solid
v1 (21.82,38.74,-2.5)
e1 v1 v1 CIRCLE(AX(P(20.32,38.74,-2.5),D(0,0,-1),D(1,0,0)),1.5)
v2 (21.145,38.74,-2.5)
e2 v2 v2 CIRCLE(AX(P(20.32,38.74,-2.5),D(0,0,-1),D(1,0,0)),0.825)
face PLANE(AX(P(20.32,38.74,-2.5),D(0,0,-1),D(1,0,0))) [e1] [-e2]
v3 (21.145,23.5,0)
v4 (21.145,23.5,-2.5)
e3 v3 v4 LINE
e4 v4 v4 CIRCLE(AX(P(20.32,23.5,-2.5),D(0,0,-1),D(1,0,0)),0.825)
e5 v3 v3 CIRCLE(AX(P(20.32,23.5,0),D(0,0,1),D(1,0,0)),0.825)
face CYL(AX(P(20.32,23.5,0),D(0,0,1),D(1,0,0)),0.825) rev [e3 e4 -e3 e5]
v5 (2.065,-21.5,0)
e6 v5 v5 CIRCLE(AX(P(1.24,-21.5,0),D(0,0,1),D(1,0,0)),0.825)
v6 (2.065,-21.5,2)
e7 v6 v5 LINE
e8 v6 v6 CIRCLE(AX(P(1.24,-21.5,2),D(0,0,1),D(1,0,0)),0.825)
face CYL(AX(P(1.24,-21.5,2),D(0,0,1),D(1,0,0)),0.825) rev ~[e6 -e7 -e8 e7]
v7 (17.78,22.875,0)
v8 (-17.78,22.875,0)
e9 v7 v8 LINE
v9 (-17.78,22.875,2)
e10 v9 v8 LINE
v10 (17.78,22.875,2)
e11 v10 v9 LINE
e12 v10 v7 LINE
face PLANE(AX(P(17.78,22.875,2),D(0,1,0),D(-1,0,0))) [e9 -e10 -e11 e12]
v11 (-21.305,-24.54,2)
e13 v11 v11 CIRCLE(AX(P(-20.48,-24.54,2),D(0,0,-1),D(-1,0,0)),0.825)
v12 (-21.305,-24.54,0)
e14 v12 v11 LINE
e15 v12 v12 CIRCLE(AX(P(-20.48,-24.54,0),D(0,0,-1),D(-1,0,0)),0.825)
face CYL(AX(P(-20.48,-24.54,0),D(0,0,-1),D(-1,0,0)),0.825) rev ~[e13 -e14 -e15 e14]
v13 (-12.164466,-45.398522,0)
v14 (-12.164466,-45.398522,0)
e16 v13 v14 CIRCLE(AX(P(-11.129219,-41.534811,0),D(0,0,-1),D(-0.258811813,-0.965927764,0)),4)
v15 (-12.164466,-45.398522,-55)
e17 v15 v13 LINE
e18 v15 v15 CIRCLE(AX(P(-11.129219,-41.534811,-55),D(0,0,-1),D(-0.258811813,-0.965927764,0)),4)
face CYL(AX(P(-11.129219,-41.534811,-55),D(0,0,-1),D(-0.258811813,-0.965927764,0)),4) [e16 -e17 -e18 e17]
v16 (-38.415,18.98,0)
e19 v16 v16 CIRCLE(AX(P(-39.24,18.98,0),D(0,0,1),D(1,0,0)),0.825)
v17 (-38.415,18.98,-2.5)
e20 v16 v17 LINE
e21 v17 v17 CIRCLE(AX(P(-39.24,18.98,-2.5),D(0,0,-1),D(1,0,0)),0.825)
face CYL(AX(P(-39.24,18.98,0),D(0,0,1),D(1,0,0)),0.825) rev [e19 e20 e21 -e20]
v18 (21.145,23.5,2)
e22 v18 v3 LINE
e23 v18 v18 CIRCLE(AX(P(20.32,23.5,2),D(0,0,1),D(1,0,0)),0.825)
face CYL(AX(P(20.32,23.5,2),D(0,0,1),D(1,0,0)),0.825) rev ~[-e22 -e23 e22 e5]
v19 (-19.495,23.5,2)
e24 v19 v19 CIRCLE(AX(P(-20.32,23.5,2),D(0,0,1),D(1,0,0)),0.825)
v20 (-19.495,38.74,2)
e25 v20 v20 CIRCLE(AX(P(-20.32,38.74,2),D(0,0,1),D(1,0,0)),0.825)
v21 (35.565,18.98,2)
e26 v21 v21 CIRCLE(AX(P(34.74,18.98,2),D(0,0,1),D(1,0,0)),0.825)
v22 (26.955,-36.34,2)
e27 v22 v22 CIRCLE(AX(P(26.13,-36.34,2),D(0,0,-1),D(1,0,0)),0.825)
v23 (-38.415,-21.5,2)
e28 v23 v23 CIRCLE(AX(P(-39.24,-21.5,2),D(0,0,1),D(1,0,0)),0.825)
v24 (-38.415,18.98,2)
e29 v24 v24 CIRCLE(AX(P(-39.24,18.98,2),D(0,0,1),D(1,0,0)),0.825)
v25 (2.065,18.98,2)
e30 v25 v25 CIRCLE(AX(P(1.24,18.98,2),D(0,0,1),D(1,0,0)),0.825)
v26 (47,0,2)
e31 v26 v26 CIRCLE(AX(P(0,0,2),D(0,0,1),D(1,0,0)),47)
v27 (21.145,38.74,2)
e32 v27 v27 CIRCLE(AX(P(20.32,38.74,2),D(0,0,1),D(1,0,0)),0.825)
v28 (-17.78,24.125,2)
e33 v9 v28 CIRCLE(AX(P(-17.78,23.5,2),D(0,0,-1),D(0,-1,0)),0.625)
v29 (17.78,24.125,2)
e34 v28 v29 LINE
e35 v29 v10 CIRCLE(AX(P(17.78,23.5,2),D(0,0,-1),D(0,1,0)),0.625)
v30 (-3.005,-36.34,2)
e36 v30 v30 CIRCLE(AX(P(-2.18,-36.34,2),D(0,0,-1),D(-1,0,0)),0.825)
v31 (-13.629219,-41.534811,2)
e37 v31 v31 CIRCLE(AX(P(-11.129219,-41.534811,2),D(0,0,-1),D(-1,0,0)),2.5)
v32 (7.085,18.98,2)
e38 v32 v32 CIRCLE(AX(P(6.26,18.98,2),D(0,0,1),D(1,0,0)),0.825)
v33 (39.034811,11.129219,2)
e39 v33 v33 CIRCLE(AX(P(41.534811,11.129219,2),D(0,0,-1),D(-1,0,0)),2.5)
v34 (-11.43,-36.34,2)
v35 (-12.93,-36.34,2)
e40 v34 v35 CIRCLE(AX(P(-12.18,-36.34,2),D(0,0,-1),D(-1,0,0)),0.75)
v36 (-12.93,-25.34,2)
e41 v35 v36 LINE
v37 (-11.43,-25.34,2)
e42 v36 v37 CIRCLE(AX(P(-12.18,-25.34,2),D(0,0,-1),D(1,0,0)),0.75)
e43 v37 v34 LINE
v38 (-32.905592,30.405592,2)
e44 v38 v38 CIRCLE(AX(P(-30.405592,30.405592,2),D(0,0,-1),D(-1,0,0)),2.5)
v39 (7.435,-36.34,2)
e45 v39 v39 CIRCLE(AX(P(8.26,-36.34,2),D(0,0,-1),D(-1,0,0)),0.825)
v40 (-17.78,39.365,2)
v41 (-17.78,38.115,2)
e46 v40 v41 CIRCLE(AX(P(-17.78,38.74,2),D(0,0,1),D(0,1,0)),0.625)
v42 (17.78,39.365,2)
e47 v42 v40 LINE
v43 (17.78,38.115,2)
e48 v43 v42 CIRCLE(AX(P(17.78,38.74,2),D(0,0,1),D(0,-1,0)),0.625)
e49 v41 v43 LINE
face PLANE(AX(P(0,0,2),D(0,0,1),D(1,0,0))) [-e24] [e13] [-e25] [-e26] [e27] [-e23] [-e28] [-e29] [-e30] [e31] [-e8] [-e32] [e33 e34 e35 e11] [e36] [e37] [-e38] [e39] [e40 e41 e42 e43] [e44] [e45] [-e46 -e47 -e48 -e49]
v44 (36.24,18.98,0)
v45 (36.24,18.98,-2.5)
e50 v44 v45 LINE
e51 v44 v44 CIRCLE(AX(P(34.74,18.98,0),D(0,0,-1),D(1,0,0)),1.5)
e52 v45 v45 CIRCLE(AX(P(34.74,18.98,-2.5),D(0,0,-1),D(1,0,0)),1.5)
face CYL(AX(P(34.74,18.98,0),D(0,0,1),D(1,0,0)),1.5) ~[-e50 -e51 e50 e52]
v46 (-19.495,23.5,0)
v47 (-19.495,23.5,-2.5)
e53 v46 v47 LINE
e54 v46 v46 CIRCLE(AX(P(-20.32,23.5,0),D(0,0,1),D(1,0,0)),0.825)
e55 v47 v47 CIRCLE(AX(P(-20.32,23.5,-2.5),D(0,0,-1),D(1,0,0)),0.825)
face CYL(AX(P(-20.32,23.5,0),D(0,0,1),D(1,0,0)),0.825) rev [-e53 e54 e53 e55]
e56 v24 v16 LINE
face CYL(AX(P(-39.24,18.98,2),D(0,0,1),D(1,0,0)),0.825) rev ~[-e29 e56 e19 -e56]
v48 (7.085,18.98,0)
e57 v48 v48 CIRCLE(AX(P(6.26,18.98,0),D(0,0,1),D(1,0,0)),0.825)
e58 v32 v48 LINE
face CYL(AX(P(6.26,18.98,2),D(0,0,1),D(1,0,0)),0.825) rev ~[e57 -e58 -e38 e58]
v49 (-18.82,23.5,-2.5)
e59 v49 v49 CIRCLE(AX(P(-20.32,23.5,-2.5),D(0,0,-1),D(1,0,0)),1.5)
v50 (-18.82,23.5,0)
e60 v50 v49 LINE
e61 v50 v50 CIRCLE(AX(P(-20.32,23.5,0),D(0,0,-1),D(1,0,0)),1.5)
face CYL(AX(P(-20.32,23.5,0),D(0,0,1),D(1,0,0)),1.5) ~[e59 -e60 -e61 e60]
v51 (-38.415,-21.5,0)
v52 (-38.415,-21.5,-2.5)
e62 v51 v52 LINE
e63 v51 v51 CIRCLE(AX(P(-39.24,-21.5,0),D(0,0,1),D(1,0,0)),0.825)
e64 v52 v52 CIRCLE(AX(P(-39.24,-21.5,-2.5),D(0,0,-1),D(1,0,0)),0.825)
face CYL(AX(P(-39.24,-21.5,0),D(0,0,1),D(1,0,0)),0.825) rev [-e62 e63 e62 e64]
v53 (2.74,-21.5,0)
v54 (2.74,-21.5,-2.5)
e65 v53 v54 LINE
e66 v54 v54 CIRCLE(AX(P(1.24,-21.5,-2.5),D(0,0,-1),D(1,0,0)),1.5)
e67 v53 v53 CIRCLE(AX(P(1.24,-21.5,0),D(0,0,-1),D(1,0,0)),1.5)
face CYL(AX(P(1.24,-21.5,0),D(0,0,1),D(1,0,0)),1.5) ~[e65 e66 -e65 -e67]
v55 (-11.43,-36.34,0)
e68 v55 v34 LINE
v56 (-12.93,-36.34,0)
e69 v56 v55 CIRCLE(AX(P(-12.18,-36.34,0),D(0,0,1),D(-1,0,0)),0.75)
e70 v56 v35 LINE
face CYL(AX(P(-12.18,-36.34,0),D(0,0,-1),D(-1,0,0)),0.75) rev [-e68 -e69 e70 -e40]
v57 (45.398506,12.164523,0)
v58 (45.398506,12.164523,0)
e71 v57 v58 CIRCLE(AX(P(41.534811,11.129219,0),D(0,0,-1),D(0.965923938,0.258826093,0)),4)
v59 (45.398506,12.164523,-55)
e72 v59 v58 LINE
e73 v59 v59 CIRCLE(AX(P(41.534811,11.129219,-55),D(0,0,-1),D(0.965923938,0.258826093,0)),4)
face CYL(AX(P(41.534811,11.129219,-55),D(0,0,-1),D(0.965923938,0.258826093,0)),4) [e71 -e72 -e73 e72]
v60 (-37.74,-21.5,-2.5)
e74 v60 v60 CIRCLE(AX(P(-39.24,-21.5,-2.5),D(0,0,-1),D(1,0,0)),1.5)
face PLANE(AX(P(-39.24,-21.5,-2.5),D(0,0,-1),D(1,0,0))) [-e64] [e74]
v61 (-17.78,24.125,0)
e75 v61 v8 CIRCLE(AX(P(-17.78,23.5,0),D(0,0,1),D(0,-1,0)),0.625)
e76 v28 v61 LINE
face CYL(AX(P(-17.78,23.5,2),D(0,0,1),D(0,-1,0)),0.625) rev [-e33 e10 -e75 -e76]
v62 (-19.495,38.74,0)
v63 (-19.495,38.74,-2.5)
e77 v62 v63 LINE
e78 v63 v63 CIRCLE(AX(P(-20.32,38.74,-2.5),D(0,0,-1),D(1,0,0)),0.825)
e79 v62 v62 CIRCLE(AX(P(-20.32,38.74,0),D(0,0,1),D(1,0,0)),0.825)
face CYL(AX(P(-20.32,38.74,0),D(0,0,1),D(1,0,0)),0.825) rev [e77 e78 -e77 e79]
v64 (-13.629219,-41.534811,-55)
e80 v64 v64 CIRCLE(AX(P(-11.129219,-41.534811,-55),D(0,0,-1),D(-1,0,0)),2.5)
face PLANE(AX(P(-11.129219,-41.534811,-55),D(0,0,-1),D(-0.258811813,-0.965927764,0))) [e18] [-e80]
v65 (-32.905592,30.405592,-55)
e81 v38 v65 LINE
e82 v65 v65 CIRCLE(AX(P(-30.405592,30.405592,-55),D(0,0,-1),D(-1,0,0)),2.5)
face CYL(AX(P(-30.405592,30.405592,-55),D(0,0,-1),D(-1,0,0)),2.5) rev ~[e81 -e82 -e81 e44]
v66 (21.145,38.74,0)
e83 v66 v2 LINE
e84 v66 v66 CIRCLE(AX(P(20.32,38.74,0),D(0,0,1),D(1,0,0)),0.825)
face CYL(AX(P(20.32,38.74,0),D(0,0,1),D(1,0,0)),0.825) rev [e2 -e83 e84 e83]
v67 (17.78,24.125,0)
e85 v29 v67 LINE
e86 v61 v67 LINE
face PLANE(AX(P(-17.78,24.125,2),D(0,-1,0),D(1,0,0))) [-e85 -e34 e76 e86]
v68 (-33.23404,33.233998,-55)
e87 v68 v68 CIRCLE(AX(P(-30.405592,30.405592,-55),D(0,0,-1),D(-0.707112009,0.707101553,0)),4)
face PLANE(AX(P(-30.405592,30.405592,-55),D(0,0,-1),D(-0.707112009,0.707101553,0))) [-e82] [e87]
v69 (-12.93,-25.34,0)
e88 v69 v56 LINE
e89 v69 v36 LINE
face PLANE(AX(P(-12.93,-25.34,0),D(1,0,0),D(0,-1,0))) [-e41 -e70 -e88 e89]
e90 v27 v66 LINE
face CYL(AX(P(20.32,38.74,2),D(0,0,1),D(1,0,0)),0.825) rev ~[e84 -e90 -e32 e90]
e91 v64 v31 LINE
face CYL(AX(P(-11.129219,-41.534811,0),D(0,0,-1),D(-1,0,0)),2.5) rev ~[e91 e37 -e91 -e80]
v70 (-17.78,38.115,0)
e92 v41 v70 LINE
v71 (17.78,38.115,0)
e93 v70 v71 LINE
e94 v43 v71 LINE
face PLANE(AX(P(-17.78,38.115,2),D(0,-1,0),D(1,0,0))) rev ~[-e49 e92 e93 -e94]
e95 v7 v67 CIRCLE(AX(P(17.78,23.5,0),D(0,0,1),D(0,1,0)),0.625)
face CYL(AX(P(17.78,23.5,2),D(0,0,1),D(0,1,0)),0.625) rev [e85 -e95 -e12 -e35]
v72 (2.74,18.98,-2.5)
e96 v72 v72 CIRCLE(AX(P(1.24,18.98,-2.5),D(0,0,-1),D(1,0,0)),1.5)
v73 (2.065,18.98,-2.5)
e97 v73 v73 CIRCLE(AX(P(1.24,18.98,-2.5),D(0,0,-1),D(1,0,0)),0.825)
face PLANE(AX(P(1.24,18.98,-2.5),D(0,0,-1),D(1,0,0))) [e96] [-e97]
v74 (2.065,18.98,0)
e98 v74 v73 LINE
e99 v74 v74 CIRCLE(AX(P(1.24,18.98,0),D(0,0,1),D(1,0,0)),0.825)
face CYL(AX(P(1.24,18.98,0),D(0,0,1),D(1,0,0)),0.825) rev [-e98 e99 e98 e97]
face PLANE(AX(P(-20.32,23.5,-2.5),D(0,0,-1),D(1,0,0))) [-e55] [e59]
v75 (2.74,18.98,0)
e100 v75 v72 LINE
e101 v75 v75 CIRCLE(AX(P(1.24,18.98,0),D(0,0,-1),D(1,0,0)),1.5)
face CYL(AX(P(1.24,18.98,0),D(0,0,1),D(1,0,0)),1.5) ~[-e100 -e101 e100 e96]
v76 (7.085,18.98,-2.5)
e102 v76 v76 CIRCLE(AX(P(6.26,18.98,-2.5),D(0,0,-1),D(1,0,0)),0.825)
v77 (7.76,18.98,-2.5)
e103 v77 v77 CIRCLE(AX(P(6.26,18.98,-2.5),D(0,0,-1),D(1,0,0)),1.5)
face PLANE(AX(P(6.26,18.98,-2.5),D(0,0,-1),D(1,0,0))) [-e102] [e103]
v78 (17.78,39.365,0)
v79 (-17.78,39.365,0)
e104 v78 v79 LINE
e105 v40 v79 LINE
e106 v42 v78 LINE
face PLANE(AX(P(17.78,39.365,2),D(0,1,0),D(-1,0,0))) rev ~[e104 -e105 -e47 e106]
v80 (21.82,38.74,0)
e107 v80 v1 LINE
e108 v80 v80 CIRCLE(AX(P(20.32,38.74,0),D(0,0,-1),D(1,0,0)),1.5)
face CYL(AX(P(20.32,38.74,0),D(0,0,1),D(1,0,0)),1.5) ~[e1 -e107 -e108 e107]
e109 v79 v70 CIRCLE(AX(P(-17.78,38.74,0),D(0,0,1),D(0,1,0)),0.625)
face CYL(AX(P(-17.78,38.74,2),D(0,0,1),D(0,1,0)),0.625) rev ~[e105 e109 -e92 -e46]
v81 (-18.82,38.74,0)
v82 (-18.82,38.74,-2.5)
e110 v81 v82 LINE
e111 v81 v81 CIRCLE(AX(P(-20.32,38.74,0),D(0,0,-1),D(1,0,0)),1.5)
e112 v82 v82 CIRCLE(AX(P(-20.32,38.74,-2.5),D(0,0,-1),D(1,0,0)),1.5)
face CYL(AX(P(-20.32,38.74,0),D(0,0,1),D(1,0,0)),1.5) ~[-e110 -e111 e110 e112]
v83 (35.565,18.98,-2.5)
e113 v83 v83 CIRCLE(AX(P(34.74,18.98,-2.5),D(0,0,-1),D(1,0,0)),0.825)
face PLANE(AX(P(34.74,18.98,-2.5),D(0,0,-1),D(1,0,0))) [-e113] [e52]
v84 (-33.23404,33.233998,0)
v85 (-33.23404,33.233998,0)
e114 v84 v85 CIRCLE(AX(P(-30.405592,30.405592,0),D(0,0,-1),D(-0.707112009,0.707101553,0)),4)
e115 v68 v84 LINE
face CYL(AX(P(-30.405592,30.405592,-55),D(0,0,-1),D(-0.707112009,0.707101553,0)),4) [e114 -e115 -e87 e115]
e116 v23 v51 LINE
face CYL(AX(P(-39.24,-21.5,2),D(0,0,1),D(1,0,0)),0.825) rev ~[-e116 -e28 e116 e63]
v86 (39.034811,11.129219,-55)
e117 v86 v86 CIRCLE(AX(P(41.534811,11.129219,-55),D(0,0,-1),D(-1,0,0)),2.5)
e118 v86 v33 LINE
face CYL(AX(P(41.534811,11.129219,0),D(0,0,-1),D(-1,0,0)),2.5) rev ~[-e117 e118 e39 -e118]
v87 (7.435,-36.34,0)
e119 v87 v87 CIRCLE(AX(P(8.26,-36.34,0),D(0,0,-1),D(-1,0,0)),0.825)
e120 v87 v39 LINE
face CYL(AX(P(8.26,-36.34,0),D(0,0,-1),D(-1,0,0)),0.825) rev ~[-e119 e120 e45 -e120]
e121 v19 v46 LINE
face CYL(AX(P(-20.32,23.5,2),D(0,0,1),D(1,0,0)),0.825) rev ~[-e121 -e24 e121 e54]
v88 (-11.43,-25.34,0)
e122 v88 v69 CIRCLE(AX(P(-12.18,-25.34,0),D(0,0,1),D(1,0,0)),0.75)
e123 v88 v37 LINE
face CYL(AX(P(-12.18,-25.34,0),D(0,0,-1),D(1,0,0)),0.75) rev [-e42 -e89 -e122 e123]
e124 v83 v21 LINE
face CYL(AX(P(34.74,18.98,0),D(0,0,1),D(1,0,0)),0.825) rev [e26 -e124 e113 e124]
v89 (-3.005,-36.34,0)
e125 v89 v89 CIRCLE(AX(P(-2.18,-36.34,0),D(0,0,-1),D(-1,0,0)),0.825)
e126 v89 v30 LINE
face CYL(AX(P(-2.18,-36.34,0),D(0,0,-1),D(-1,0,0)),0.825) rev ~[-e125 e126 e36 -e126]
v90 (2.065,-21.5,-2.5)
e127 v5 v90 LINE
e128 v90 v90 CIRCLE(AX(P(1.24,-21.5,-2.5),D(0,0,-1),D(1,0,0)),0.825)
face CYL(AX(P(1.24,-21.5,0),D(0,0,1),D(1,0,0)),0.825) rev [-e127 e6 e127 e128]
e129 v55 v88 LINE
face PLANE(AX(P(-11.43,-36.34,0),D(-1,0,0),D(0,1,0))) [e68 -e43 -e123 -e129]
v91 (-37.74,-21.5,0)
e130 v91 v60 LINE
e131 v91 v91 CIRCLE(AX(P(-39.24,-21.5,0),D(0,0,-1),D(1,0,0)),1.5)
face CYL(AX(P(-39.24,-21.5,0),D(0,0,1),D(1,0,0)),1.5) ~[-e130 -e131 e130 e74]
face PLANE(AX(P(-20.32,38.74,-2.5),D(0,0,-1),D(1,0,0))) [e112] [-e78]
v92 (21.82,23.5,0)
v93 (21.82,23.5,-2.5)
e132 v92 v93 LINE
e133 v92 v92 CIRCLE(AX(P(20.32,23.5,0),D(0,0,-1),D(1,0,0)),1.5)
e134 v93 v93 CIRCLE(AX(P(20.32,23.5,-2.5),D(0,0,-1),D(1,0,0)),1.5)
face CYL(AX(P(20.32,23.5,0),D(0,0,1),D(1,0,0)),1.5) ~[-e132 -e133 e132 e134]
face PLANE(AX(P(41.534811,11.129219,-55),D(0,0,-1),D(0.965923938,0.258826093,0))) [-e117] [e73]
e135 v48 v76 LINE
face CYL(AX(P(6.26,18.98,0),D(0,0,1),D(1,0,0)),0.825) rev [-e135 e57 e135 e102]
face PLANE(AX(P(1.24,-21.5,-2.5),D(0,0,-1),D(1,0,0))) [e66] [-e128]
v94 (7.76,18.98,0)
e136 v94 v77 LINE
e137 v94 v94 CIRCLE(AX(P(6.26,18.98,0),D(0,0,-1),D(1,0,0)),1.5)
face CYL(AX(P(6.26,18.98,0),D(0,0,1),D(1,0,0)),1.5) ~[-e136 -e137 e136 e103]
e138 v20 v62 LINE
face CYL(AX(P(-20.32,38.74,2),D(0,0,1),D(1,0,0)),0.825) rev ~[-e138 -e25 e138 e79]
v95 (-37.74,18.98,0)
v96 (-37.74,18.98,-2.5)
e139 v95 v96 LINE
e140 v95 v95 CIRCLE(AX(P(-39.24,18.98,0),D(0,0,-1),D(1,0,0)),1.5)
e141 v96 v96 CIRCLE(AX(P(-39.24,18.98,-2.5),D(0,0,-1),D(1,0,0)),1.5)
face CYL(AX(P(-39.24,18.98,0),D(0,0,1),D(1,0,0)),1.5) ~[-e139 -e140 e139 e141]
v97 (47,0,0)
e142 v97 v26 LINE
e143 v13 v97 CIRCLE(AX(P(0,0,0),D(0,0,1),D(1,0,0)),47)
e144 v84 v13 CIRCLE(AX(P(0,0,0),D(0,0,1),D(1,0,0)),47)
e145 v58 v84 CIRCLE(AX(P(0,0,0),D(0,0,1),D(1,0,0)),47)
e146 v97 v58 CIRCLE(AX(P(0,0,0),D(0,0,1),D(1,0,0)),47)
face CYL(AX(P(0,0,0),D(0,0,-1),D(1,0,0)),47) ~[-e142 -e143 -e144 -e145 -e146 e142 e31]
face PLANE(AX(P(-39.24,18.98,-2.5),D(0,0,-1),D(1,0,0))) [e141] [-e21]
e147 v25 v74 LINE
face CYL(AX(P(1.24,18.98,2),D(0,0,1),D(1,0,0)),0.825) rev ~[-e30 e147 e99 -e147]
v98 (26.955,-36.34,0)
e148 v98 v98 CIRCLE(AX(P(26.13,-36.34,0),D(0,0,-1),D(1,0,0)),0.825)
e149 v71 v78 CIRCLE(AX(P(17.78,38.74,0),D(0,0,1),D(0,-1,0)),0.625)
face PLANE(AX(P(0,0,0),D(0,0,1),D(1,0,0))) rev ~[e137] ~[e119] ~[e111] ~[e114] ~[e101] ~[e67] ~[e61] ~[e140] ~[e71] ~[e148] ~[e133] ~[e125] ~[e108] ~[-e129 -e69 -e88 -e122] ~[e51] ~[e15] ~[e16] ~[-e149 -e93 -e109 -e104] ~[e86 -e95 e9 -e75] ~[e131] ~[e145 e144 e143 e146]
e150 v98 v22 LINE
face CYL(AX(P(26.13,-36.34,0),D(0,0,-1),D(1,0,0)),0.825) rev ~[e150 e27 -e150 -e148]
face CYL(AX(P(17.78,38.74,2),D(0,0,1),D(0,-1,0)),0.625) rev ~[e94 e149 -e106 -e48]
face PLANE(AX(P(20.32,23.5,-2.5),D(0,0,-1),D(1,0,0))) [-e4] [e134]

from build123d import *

# Parameters (mm, degrees)
SKETCH1_R                    = 47
BOSS_EXTRUDE1_DEPTH          = 2
SKETCH3_R                    = 2.5
CUT_EXTRUDE1_DEPTH           = 67.498120274
BOSS_EXTRUDE2_START          = 55
SKETCH5_R                    = 4
SKETCH5_R_2                  = 2.5
BOSS_EXTRUDE2_DEPTH          = 55
SKETCH2_R                    = 0.825
CUT_EXTRUDE_NANO_RECTO_DEPTH = 88.561407024
SKETCH6_R                    = 1.5
SKETCH6_R_2                  = 0.825
BOSS_EXTRUDE3_DEPTH          = 2.5
SKETCH4_R                    = 0.825
CUT_EXTRUDE_VERSO_DEPTH      = 87.272823067


with BuildPart() as part:
    # Sketch1 → Boss-Extrude1 (new body)
    with BuildSketch(Plane.XY):
        Circle(SKETCH1_R)
    extrude(amount=BOSS_EXTRUDE1_DEPTH)

    # Sketch3 → Cut-Extrude1 (cut, through all)
    with BuildSketch(Plane(origin=(0, 0, 0), x_dir=(-1, 0, 0), z_dir=(0, 0, -1))):
        with Locations((30.405591591, 30.405591591)):
            Circle(SKETCH3_R)
        with Locations((11.129218939, -41.53481053)):
            Circle(SKETCH3_R)
        with Locations((-41.53481053, 11.129218939)):
            Circle(SKETCH3_R)
    extrude(amount=-CUT_EXTRUDE1_DEPTH, mode=Mode.SUBTRACT)

    # Sketch5 → Boss-Extrude2 (add)
    # profile 1 of 3: a face of its own
    with BuildSketch(Plane(origin=(0, 0, 0), x_dir=(-1, 0, 0), z_dir=(0, 0, -1)).offset(BOSS_EXTRUDE2_START)):
        with Locations(Location((30.405591591, 30.405591591, 0), (0, 0, 44.999576406))):
            Circle(SKETCH5_R)
        with Locations((30.405591591, 30.405591591)):
            Circle(SKETCH5_R_2, mode=Mode.SUBTRACT)
    # profile 2 of 3: a face of its own
    with BuildSketch(Plane(origin=(0, 0, 0), x_dir=(-1, 0, 0), z_dir=(0, 0, -1)).offset(BOSS_EXTRUDE2_START)):
        with Locations(Location((11.129218939, -41.53481053, 0), (0, 0, 284.999570993))):
            Circle(SKETCH5_R)
        with Locations((11.129218939, -41.53481053)):
            Circle(SKETCH5_R_2, mode=Mode.SUBTRACT)
    # profile 3 of 3: a face of its own
    with BuildSketch(Plane(origin=(0, 0, 0), x_dir=(-1, 0, 0), z_dir=(0, 0, -1)).offset(BOSS_EXTRUDE2_START)):
        with Locations(Location((-41.53481053, 11.129218939, 0), (0, 0, 164.999581917))):
            Circle(SKETCH5_R)
        with Locations((-41.53481053, 11.129218939)):
            Circle(SKETCH5_R_2, mode=Mode.SUBTRACT)
    extrude(amount=-BOSS_EXTRUDE2_DEPTH)

    # Sketch2 → Cut-Extrude-Nano+Recto (cut, through all)
    with BuildSketch(Plane.XY.offset(2)):
        with Locations((20.32, 38.74)):
            Circle(SKETCH2_R)
        with Locations((20.32, 23.5)):
            Circle(SKETCH2_R)
        with Locations((-20.32, 23.5)):
            Circle(SKETCH2_R)
        with Locations((-20.32, 38.74)):
            Circle(SKETCH2_R)
        with Locations((34.74, 18.98)):
            Circle(SKETCH2_R)
        with Locations((6.26, 18.98)):
            Circle(SKETCH2_R)
        with Locations((-39.24, 18.98)):
            Circle(SKETCH2_R)
        with Locations((1.24, 18.98)):
            Circle(SKETCH2_R)
        with Locations((1.24, -21.5)):
            Circle(SKETCH2_R)
        with Locations((-39.24, -21.5)):
            Circle(SKETCH2_R)
        with BuildLine():
            Line((17.78, 22.875), (-17.78, 22.875))
            ThreePointArc((-17.78, 22.875), (-18.405, 23.5), (-17.78, 24.125))
            Line((-17.78, 24.125), (17.78, 24.125))
            ThreePointArc((17.78, 24.125), (18.405, 23.5), (17.78, 22.875))
        make_face()
        with BuildLine():
            Line((17.78, 39.365), (-17.78, 39.365))
            ThreePointArc((-17.78, 39.365), (-18.405, 38.74), (-17.78, 38.115))
            Line((-17.78, 38.115), (17.78, 38.115))
            ThreePointArc((17.78, 38.115), (18.405, 38.74), (17.78, 39.365))
        make_face()
    extrude(amount=-CUT_EXTRUDE_NANO_RECTO_DEPTH, mode=Mode.SUBTRACT)

    # Sketch6 → Boss-Extrude3 (add)
    # profile 1 of 10: a face of its own
    with BuildSketch(Plane(origin=(0, 0, 0), x_dir=(-1, 0, 0), z_dir=(0, 0, -1))):
        with Locations(Location((-34.74, 18.98, 0), (0, 0, 180))):
            Circle(SKETCH6_R)
        with Locations(Location((-34.74, 18.98, 0), (0, 0, 180))):
            Circle(SKETCH6_R_2, mode=Mode.SUBTRACT)
    # profile 2 of 10: a face of its own
    with BuildSketch(Plane(origin=(0, 0, 0), x_dir=(-1, 0, 0), z_dir=(0, 0, -1))):
        with Locations(Location((-20.32, 23.5, 0), (0, 0, 180))):
            Circle(SKETCH6_R)
        with Locations(Location((-20.32, 23.5, 0), (0, 0, 180))):
            Circle(SKETCH6_R_2, mode=Mode.SUBTRACT)
    # profile 3 of 10: a face of its own
    with BuildSketch(Plane(origin=(0, 0, 0), x_dir=(-1, 0, 0), z_dir=(0, 0, -1))):
        with Locations(Location((-20.32, 38.74, 0), (0, 0, 180))):
            Circle(SKETCH6_R)
        with Locations(Location((-20.32, 38.74, 0), (0, 0, 180))):
            Circle(SKETCH6_R_2, mode=Mode.SUBTRACT)
    # profile 4 of 10: a face of its own
    with BuildSketch(Plane(origin=(0, 0, 0), x_dir=(-1, 0, 0), z_dir=(0, 0, -1))):
        with Locations(Location((20.32, 23.5, 0), (0, 0, 180))):
            Circle(SKETCH6_R)
        with Locations(Location((20.32, 23.5, 0), (0, 0, 180))):
            Circle(SKETCH6_R_2, mode=Mode.SUBTRACT)
    # profile 5 of 10: a face of its own
    with BuildSketch(Plane(origin=(0, 0, 0), x_dir=(-1, 0, 0), z_dir=(0, 0, -1))):
        with Locations(Location((20.32, 38.74, 0), (0, 0, 180))):
            Circle(SKETCH6_R)
        with Locations(Location((20.32, 38.74, 0), (0, 0, 180))):
            Circle(SKETCH6_R_2, mode=Mode.SUBTRACT)
    # profile 6 of 10: a face of its own
    with BuildSketch(Plane(origin=(0, 0, 0), x_dir=(-1, 0, 0), z_dir=(0, 0, -1))):
        with Locations(Location((-6.26, 18.98, 0), (0, 0, 180))):
            Circle(SKETCH6_R)
        with Locations(Location((-6.26, 18.98, 0), (0, 0, 180))):
            Circle(SKETCH6_R_2, mode=Mode.SUBTRACT)
    # profile 7 of 10: a face of its own
    with BuildSketch(Plane(origin=(0, 0, 0), x_dir=(-1, 0, 0), z_dir=(0, 0, -1))):
        with Locations(Location((-1.24, 18.98, 0), (0, 0, 180))):
            Circle(SKETCH6_R)
        with Locations(Location((-1.24, 18.98, 0), (0, 0, 180))):
            Circle(SKETCH6_R_2, mode=Mode.SUBTRACT)
    # profile 8 of 10: a face of its own
    with BuildSketch(Plane(origin=(0, 0, 0), x_dir=(-1, 0, 0), z_dir=(0, 0, -1))):
        with Locations(Location((39.24, 18.98, 0), (0, 0, 180))):
            Circle(SKETCH6_R)
        with Locations(Location((39.24, 18.98, 0), (0, 0, 180))):
            Circle(SKETCH6_R_2, mode=Mode.SUBTRACT)
    # profile 9 of 10: a face of its own
    with BuildSketch(Plane(origin=(0, 0, 0), x_dir=(-1, 0, 0), z_dir=(0, 0, -1))):
        with Locations(Location((39.24, -21.5, 0), (0, 0, 180))):
            Circle(SKETCH6_R)
        with Locations(Location((39.24, -21.5, 0), (0, 0, 180))):
            Circle(SKETCH6_R_2, mode=Mode.SUBTRACT)
    # profile 10 of 10: a face of its own
    with BuildSketch(Plane(origin=(0, 0, 0), x_dir=(-1, 0, 0), z_dir=(0, 0, -1))):
        with Locations(Location((-1.24, -21.5, 0), (0, 0, 180))):
            Circle(SKETCH6_R)
        with Locations(Location((-1.24, -21.5, 0), (0, 0, 180))):
            Circle(SKETCH6_R_2, mode=Mode.SUBTRACT)
    extrude(amount=BOSS_EXTRUDE3_DEPTH)

    # Sketch4 → Cut-Extrude-Verso (cut, through all)
    with BuildSketch(Plane(origin=(0, 0, 0), x_dir=(-1, 0, 0), z_dir=(0, 0, -1))):
        with Locations((-8.26, -36.34)):
            Circle(SKETCH4_R)
        with Locations((2.18, -36.34)):
            Circle(SKETCH4_R)
        with Locations(Location((-26.13, -36.34, 0), (0, 0, 180))):
            Circle(SKETCH4_R)
        with Locations((20.48, -24.54)):
            Circle(SKETCH4_R)
        with BuildLine():
            Line((11.43, -36.34), (11.43, -25.34))
            ThreePointArc((11.43, -25.34), (12.18, -24.59), (12.93, -25.34))
            Line((12.93, -25.34), (12.93, -36.34))
            ThreePointArc((12.93, -36.34), (12.18, -37.09), (11.43, -36.34))
        make_face()
    extrude(amount=-CUT_EXTRUDE_VERSO_DEPTH, mode=Mode.SUBTRACT)


solid = part.part
